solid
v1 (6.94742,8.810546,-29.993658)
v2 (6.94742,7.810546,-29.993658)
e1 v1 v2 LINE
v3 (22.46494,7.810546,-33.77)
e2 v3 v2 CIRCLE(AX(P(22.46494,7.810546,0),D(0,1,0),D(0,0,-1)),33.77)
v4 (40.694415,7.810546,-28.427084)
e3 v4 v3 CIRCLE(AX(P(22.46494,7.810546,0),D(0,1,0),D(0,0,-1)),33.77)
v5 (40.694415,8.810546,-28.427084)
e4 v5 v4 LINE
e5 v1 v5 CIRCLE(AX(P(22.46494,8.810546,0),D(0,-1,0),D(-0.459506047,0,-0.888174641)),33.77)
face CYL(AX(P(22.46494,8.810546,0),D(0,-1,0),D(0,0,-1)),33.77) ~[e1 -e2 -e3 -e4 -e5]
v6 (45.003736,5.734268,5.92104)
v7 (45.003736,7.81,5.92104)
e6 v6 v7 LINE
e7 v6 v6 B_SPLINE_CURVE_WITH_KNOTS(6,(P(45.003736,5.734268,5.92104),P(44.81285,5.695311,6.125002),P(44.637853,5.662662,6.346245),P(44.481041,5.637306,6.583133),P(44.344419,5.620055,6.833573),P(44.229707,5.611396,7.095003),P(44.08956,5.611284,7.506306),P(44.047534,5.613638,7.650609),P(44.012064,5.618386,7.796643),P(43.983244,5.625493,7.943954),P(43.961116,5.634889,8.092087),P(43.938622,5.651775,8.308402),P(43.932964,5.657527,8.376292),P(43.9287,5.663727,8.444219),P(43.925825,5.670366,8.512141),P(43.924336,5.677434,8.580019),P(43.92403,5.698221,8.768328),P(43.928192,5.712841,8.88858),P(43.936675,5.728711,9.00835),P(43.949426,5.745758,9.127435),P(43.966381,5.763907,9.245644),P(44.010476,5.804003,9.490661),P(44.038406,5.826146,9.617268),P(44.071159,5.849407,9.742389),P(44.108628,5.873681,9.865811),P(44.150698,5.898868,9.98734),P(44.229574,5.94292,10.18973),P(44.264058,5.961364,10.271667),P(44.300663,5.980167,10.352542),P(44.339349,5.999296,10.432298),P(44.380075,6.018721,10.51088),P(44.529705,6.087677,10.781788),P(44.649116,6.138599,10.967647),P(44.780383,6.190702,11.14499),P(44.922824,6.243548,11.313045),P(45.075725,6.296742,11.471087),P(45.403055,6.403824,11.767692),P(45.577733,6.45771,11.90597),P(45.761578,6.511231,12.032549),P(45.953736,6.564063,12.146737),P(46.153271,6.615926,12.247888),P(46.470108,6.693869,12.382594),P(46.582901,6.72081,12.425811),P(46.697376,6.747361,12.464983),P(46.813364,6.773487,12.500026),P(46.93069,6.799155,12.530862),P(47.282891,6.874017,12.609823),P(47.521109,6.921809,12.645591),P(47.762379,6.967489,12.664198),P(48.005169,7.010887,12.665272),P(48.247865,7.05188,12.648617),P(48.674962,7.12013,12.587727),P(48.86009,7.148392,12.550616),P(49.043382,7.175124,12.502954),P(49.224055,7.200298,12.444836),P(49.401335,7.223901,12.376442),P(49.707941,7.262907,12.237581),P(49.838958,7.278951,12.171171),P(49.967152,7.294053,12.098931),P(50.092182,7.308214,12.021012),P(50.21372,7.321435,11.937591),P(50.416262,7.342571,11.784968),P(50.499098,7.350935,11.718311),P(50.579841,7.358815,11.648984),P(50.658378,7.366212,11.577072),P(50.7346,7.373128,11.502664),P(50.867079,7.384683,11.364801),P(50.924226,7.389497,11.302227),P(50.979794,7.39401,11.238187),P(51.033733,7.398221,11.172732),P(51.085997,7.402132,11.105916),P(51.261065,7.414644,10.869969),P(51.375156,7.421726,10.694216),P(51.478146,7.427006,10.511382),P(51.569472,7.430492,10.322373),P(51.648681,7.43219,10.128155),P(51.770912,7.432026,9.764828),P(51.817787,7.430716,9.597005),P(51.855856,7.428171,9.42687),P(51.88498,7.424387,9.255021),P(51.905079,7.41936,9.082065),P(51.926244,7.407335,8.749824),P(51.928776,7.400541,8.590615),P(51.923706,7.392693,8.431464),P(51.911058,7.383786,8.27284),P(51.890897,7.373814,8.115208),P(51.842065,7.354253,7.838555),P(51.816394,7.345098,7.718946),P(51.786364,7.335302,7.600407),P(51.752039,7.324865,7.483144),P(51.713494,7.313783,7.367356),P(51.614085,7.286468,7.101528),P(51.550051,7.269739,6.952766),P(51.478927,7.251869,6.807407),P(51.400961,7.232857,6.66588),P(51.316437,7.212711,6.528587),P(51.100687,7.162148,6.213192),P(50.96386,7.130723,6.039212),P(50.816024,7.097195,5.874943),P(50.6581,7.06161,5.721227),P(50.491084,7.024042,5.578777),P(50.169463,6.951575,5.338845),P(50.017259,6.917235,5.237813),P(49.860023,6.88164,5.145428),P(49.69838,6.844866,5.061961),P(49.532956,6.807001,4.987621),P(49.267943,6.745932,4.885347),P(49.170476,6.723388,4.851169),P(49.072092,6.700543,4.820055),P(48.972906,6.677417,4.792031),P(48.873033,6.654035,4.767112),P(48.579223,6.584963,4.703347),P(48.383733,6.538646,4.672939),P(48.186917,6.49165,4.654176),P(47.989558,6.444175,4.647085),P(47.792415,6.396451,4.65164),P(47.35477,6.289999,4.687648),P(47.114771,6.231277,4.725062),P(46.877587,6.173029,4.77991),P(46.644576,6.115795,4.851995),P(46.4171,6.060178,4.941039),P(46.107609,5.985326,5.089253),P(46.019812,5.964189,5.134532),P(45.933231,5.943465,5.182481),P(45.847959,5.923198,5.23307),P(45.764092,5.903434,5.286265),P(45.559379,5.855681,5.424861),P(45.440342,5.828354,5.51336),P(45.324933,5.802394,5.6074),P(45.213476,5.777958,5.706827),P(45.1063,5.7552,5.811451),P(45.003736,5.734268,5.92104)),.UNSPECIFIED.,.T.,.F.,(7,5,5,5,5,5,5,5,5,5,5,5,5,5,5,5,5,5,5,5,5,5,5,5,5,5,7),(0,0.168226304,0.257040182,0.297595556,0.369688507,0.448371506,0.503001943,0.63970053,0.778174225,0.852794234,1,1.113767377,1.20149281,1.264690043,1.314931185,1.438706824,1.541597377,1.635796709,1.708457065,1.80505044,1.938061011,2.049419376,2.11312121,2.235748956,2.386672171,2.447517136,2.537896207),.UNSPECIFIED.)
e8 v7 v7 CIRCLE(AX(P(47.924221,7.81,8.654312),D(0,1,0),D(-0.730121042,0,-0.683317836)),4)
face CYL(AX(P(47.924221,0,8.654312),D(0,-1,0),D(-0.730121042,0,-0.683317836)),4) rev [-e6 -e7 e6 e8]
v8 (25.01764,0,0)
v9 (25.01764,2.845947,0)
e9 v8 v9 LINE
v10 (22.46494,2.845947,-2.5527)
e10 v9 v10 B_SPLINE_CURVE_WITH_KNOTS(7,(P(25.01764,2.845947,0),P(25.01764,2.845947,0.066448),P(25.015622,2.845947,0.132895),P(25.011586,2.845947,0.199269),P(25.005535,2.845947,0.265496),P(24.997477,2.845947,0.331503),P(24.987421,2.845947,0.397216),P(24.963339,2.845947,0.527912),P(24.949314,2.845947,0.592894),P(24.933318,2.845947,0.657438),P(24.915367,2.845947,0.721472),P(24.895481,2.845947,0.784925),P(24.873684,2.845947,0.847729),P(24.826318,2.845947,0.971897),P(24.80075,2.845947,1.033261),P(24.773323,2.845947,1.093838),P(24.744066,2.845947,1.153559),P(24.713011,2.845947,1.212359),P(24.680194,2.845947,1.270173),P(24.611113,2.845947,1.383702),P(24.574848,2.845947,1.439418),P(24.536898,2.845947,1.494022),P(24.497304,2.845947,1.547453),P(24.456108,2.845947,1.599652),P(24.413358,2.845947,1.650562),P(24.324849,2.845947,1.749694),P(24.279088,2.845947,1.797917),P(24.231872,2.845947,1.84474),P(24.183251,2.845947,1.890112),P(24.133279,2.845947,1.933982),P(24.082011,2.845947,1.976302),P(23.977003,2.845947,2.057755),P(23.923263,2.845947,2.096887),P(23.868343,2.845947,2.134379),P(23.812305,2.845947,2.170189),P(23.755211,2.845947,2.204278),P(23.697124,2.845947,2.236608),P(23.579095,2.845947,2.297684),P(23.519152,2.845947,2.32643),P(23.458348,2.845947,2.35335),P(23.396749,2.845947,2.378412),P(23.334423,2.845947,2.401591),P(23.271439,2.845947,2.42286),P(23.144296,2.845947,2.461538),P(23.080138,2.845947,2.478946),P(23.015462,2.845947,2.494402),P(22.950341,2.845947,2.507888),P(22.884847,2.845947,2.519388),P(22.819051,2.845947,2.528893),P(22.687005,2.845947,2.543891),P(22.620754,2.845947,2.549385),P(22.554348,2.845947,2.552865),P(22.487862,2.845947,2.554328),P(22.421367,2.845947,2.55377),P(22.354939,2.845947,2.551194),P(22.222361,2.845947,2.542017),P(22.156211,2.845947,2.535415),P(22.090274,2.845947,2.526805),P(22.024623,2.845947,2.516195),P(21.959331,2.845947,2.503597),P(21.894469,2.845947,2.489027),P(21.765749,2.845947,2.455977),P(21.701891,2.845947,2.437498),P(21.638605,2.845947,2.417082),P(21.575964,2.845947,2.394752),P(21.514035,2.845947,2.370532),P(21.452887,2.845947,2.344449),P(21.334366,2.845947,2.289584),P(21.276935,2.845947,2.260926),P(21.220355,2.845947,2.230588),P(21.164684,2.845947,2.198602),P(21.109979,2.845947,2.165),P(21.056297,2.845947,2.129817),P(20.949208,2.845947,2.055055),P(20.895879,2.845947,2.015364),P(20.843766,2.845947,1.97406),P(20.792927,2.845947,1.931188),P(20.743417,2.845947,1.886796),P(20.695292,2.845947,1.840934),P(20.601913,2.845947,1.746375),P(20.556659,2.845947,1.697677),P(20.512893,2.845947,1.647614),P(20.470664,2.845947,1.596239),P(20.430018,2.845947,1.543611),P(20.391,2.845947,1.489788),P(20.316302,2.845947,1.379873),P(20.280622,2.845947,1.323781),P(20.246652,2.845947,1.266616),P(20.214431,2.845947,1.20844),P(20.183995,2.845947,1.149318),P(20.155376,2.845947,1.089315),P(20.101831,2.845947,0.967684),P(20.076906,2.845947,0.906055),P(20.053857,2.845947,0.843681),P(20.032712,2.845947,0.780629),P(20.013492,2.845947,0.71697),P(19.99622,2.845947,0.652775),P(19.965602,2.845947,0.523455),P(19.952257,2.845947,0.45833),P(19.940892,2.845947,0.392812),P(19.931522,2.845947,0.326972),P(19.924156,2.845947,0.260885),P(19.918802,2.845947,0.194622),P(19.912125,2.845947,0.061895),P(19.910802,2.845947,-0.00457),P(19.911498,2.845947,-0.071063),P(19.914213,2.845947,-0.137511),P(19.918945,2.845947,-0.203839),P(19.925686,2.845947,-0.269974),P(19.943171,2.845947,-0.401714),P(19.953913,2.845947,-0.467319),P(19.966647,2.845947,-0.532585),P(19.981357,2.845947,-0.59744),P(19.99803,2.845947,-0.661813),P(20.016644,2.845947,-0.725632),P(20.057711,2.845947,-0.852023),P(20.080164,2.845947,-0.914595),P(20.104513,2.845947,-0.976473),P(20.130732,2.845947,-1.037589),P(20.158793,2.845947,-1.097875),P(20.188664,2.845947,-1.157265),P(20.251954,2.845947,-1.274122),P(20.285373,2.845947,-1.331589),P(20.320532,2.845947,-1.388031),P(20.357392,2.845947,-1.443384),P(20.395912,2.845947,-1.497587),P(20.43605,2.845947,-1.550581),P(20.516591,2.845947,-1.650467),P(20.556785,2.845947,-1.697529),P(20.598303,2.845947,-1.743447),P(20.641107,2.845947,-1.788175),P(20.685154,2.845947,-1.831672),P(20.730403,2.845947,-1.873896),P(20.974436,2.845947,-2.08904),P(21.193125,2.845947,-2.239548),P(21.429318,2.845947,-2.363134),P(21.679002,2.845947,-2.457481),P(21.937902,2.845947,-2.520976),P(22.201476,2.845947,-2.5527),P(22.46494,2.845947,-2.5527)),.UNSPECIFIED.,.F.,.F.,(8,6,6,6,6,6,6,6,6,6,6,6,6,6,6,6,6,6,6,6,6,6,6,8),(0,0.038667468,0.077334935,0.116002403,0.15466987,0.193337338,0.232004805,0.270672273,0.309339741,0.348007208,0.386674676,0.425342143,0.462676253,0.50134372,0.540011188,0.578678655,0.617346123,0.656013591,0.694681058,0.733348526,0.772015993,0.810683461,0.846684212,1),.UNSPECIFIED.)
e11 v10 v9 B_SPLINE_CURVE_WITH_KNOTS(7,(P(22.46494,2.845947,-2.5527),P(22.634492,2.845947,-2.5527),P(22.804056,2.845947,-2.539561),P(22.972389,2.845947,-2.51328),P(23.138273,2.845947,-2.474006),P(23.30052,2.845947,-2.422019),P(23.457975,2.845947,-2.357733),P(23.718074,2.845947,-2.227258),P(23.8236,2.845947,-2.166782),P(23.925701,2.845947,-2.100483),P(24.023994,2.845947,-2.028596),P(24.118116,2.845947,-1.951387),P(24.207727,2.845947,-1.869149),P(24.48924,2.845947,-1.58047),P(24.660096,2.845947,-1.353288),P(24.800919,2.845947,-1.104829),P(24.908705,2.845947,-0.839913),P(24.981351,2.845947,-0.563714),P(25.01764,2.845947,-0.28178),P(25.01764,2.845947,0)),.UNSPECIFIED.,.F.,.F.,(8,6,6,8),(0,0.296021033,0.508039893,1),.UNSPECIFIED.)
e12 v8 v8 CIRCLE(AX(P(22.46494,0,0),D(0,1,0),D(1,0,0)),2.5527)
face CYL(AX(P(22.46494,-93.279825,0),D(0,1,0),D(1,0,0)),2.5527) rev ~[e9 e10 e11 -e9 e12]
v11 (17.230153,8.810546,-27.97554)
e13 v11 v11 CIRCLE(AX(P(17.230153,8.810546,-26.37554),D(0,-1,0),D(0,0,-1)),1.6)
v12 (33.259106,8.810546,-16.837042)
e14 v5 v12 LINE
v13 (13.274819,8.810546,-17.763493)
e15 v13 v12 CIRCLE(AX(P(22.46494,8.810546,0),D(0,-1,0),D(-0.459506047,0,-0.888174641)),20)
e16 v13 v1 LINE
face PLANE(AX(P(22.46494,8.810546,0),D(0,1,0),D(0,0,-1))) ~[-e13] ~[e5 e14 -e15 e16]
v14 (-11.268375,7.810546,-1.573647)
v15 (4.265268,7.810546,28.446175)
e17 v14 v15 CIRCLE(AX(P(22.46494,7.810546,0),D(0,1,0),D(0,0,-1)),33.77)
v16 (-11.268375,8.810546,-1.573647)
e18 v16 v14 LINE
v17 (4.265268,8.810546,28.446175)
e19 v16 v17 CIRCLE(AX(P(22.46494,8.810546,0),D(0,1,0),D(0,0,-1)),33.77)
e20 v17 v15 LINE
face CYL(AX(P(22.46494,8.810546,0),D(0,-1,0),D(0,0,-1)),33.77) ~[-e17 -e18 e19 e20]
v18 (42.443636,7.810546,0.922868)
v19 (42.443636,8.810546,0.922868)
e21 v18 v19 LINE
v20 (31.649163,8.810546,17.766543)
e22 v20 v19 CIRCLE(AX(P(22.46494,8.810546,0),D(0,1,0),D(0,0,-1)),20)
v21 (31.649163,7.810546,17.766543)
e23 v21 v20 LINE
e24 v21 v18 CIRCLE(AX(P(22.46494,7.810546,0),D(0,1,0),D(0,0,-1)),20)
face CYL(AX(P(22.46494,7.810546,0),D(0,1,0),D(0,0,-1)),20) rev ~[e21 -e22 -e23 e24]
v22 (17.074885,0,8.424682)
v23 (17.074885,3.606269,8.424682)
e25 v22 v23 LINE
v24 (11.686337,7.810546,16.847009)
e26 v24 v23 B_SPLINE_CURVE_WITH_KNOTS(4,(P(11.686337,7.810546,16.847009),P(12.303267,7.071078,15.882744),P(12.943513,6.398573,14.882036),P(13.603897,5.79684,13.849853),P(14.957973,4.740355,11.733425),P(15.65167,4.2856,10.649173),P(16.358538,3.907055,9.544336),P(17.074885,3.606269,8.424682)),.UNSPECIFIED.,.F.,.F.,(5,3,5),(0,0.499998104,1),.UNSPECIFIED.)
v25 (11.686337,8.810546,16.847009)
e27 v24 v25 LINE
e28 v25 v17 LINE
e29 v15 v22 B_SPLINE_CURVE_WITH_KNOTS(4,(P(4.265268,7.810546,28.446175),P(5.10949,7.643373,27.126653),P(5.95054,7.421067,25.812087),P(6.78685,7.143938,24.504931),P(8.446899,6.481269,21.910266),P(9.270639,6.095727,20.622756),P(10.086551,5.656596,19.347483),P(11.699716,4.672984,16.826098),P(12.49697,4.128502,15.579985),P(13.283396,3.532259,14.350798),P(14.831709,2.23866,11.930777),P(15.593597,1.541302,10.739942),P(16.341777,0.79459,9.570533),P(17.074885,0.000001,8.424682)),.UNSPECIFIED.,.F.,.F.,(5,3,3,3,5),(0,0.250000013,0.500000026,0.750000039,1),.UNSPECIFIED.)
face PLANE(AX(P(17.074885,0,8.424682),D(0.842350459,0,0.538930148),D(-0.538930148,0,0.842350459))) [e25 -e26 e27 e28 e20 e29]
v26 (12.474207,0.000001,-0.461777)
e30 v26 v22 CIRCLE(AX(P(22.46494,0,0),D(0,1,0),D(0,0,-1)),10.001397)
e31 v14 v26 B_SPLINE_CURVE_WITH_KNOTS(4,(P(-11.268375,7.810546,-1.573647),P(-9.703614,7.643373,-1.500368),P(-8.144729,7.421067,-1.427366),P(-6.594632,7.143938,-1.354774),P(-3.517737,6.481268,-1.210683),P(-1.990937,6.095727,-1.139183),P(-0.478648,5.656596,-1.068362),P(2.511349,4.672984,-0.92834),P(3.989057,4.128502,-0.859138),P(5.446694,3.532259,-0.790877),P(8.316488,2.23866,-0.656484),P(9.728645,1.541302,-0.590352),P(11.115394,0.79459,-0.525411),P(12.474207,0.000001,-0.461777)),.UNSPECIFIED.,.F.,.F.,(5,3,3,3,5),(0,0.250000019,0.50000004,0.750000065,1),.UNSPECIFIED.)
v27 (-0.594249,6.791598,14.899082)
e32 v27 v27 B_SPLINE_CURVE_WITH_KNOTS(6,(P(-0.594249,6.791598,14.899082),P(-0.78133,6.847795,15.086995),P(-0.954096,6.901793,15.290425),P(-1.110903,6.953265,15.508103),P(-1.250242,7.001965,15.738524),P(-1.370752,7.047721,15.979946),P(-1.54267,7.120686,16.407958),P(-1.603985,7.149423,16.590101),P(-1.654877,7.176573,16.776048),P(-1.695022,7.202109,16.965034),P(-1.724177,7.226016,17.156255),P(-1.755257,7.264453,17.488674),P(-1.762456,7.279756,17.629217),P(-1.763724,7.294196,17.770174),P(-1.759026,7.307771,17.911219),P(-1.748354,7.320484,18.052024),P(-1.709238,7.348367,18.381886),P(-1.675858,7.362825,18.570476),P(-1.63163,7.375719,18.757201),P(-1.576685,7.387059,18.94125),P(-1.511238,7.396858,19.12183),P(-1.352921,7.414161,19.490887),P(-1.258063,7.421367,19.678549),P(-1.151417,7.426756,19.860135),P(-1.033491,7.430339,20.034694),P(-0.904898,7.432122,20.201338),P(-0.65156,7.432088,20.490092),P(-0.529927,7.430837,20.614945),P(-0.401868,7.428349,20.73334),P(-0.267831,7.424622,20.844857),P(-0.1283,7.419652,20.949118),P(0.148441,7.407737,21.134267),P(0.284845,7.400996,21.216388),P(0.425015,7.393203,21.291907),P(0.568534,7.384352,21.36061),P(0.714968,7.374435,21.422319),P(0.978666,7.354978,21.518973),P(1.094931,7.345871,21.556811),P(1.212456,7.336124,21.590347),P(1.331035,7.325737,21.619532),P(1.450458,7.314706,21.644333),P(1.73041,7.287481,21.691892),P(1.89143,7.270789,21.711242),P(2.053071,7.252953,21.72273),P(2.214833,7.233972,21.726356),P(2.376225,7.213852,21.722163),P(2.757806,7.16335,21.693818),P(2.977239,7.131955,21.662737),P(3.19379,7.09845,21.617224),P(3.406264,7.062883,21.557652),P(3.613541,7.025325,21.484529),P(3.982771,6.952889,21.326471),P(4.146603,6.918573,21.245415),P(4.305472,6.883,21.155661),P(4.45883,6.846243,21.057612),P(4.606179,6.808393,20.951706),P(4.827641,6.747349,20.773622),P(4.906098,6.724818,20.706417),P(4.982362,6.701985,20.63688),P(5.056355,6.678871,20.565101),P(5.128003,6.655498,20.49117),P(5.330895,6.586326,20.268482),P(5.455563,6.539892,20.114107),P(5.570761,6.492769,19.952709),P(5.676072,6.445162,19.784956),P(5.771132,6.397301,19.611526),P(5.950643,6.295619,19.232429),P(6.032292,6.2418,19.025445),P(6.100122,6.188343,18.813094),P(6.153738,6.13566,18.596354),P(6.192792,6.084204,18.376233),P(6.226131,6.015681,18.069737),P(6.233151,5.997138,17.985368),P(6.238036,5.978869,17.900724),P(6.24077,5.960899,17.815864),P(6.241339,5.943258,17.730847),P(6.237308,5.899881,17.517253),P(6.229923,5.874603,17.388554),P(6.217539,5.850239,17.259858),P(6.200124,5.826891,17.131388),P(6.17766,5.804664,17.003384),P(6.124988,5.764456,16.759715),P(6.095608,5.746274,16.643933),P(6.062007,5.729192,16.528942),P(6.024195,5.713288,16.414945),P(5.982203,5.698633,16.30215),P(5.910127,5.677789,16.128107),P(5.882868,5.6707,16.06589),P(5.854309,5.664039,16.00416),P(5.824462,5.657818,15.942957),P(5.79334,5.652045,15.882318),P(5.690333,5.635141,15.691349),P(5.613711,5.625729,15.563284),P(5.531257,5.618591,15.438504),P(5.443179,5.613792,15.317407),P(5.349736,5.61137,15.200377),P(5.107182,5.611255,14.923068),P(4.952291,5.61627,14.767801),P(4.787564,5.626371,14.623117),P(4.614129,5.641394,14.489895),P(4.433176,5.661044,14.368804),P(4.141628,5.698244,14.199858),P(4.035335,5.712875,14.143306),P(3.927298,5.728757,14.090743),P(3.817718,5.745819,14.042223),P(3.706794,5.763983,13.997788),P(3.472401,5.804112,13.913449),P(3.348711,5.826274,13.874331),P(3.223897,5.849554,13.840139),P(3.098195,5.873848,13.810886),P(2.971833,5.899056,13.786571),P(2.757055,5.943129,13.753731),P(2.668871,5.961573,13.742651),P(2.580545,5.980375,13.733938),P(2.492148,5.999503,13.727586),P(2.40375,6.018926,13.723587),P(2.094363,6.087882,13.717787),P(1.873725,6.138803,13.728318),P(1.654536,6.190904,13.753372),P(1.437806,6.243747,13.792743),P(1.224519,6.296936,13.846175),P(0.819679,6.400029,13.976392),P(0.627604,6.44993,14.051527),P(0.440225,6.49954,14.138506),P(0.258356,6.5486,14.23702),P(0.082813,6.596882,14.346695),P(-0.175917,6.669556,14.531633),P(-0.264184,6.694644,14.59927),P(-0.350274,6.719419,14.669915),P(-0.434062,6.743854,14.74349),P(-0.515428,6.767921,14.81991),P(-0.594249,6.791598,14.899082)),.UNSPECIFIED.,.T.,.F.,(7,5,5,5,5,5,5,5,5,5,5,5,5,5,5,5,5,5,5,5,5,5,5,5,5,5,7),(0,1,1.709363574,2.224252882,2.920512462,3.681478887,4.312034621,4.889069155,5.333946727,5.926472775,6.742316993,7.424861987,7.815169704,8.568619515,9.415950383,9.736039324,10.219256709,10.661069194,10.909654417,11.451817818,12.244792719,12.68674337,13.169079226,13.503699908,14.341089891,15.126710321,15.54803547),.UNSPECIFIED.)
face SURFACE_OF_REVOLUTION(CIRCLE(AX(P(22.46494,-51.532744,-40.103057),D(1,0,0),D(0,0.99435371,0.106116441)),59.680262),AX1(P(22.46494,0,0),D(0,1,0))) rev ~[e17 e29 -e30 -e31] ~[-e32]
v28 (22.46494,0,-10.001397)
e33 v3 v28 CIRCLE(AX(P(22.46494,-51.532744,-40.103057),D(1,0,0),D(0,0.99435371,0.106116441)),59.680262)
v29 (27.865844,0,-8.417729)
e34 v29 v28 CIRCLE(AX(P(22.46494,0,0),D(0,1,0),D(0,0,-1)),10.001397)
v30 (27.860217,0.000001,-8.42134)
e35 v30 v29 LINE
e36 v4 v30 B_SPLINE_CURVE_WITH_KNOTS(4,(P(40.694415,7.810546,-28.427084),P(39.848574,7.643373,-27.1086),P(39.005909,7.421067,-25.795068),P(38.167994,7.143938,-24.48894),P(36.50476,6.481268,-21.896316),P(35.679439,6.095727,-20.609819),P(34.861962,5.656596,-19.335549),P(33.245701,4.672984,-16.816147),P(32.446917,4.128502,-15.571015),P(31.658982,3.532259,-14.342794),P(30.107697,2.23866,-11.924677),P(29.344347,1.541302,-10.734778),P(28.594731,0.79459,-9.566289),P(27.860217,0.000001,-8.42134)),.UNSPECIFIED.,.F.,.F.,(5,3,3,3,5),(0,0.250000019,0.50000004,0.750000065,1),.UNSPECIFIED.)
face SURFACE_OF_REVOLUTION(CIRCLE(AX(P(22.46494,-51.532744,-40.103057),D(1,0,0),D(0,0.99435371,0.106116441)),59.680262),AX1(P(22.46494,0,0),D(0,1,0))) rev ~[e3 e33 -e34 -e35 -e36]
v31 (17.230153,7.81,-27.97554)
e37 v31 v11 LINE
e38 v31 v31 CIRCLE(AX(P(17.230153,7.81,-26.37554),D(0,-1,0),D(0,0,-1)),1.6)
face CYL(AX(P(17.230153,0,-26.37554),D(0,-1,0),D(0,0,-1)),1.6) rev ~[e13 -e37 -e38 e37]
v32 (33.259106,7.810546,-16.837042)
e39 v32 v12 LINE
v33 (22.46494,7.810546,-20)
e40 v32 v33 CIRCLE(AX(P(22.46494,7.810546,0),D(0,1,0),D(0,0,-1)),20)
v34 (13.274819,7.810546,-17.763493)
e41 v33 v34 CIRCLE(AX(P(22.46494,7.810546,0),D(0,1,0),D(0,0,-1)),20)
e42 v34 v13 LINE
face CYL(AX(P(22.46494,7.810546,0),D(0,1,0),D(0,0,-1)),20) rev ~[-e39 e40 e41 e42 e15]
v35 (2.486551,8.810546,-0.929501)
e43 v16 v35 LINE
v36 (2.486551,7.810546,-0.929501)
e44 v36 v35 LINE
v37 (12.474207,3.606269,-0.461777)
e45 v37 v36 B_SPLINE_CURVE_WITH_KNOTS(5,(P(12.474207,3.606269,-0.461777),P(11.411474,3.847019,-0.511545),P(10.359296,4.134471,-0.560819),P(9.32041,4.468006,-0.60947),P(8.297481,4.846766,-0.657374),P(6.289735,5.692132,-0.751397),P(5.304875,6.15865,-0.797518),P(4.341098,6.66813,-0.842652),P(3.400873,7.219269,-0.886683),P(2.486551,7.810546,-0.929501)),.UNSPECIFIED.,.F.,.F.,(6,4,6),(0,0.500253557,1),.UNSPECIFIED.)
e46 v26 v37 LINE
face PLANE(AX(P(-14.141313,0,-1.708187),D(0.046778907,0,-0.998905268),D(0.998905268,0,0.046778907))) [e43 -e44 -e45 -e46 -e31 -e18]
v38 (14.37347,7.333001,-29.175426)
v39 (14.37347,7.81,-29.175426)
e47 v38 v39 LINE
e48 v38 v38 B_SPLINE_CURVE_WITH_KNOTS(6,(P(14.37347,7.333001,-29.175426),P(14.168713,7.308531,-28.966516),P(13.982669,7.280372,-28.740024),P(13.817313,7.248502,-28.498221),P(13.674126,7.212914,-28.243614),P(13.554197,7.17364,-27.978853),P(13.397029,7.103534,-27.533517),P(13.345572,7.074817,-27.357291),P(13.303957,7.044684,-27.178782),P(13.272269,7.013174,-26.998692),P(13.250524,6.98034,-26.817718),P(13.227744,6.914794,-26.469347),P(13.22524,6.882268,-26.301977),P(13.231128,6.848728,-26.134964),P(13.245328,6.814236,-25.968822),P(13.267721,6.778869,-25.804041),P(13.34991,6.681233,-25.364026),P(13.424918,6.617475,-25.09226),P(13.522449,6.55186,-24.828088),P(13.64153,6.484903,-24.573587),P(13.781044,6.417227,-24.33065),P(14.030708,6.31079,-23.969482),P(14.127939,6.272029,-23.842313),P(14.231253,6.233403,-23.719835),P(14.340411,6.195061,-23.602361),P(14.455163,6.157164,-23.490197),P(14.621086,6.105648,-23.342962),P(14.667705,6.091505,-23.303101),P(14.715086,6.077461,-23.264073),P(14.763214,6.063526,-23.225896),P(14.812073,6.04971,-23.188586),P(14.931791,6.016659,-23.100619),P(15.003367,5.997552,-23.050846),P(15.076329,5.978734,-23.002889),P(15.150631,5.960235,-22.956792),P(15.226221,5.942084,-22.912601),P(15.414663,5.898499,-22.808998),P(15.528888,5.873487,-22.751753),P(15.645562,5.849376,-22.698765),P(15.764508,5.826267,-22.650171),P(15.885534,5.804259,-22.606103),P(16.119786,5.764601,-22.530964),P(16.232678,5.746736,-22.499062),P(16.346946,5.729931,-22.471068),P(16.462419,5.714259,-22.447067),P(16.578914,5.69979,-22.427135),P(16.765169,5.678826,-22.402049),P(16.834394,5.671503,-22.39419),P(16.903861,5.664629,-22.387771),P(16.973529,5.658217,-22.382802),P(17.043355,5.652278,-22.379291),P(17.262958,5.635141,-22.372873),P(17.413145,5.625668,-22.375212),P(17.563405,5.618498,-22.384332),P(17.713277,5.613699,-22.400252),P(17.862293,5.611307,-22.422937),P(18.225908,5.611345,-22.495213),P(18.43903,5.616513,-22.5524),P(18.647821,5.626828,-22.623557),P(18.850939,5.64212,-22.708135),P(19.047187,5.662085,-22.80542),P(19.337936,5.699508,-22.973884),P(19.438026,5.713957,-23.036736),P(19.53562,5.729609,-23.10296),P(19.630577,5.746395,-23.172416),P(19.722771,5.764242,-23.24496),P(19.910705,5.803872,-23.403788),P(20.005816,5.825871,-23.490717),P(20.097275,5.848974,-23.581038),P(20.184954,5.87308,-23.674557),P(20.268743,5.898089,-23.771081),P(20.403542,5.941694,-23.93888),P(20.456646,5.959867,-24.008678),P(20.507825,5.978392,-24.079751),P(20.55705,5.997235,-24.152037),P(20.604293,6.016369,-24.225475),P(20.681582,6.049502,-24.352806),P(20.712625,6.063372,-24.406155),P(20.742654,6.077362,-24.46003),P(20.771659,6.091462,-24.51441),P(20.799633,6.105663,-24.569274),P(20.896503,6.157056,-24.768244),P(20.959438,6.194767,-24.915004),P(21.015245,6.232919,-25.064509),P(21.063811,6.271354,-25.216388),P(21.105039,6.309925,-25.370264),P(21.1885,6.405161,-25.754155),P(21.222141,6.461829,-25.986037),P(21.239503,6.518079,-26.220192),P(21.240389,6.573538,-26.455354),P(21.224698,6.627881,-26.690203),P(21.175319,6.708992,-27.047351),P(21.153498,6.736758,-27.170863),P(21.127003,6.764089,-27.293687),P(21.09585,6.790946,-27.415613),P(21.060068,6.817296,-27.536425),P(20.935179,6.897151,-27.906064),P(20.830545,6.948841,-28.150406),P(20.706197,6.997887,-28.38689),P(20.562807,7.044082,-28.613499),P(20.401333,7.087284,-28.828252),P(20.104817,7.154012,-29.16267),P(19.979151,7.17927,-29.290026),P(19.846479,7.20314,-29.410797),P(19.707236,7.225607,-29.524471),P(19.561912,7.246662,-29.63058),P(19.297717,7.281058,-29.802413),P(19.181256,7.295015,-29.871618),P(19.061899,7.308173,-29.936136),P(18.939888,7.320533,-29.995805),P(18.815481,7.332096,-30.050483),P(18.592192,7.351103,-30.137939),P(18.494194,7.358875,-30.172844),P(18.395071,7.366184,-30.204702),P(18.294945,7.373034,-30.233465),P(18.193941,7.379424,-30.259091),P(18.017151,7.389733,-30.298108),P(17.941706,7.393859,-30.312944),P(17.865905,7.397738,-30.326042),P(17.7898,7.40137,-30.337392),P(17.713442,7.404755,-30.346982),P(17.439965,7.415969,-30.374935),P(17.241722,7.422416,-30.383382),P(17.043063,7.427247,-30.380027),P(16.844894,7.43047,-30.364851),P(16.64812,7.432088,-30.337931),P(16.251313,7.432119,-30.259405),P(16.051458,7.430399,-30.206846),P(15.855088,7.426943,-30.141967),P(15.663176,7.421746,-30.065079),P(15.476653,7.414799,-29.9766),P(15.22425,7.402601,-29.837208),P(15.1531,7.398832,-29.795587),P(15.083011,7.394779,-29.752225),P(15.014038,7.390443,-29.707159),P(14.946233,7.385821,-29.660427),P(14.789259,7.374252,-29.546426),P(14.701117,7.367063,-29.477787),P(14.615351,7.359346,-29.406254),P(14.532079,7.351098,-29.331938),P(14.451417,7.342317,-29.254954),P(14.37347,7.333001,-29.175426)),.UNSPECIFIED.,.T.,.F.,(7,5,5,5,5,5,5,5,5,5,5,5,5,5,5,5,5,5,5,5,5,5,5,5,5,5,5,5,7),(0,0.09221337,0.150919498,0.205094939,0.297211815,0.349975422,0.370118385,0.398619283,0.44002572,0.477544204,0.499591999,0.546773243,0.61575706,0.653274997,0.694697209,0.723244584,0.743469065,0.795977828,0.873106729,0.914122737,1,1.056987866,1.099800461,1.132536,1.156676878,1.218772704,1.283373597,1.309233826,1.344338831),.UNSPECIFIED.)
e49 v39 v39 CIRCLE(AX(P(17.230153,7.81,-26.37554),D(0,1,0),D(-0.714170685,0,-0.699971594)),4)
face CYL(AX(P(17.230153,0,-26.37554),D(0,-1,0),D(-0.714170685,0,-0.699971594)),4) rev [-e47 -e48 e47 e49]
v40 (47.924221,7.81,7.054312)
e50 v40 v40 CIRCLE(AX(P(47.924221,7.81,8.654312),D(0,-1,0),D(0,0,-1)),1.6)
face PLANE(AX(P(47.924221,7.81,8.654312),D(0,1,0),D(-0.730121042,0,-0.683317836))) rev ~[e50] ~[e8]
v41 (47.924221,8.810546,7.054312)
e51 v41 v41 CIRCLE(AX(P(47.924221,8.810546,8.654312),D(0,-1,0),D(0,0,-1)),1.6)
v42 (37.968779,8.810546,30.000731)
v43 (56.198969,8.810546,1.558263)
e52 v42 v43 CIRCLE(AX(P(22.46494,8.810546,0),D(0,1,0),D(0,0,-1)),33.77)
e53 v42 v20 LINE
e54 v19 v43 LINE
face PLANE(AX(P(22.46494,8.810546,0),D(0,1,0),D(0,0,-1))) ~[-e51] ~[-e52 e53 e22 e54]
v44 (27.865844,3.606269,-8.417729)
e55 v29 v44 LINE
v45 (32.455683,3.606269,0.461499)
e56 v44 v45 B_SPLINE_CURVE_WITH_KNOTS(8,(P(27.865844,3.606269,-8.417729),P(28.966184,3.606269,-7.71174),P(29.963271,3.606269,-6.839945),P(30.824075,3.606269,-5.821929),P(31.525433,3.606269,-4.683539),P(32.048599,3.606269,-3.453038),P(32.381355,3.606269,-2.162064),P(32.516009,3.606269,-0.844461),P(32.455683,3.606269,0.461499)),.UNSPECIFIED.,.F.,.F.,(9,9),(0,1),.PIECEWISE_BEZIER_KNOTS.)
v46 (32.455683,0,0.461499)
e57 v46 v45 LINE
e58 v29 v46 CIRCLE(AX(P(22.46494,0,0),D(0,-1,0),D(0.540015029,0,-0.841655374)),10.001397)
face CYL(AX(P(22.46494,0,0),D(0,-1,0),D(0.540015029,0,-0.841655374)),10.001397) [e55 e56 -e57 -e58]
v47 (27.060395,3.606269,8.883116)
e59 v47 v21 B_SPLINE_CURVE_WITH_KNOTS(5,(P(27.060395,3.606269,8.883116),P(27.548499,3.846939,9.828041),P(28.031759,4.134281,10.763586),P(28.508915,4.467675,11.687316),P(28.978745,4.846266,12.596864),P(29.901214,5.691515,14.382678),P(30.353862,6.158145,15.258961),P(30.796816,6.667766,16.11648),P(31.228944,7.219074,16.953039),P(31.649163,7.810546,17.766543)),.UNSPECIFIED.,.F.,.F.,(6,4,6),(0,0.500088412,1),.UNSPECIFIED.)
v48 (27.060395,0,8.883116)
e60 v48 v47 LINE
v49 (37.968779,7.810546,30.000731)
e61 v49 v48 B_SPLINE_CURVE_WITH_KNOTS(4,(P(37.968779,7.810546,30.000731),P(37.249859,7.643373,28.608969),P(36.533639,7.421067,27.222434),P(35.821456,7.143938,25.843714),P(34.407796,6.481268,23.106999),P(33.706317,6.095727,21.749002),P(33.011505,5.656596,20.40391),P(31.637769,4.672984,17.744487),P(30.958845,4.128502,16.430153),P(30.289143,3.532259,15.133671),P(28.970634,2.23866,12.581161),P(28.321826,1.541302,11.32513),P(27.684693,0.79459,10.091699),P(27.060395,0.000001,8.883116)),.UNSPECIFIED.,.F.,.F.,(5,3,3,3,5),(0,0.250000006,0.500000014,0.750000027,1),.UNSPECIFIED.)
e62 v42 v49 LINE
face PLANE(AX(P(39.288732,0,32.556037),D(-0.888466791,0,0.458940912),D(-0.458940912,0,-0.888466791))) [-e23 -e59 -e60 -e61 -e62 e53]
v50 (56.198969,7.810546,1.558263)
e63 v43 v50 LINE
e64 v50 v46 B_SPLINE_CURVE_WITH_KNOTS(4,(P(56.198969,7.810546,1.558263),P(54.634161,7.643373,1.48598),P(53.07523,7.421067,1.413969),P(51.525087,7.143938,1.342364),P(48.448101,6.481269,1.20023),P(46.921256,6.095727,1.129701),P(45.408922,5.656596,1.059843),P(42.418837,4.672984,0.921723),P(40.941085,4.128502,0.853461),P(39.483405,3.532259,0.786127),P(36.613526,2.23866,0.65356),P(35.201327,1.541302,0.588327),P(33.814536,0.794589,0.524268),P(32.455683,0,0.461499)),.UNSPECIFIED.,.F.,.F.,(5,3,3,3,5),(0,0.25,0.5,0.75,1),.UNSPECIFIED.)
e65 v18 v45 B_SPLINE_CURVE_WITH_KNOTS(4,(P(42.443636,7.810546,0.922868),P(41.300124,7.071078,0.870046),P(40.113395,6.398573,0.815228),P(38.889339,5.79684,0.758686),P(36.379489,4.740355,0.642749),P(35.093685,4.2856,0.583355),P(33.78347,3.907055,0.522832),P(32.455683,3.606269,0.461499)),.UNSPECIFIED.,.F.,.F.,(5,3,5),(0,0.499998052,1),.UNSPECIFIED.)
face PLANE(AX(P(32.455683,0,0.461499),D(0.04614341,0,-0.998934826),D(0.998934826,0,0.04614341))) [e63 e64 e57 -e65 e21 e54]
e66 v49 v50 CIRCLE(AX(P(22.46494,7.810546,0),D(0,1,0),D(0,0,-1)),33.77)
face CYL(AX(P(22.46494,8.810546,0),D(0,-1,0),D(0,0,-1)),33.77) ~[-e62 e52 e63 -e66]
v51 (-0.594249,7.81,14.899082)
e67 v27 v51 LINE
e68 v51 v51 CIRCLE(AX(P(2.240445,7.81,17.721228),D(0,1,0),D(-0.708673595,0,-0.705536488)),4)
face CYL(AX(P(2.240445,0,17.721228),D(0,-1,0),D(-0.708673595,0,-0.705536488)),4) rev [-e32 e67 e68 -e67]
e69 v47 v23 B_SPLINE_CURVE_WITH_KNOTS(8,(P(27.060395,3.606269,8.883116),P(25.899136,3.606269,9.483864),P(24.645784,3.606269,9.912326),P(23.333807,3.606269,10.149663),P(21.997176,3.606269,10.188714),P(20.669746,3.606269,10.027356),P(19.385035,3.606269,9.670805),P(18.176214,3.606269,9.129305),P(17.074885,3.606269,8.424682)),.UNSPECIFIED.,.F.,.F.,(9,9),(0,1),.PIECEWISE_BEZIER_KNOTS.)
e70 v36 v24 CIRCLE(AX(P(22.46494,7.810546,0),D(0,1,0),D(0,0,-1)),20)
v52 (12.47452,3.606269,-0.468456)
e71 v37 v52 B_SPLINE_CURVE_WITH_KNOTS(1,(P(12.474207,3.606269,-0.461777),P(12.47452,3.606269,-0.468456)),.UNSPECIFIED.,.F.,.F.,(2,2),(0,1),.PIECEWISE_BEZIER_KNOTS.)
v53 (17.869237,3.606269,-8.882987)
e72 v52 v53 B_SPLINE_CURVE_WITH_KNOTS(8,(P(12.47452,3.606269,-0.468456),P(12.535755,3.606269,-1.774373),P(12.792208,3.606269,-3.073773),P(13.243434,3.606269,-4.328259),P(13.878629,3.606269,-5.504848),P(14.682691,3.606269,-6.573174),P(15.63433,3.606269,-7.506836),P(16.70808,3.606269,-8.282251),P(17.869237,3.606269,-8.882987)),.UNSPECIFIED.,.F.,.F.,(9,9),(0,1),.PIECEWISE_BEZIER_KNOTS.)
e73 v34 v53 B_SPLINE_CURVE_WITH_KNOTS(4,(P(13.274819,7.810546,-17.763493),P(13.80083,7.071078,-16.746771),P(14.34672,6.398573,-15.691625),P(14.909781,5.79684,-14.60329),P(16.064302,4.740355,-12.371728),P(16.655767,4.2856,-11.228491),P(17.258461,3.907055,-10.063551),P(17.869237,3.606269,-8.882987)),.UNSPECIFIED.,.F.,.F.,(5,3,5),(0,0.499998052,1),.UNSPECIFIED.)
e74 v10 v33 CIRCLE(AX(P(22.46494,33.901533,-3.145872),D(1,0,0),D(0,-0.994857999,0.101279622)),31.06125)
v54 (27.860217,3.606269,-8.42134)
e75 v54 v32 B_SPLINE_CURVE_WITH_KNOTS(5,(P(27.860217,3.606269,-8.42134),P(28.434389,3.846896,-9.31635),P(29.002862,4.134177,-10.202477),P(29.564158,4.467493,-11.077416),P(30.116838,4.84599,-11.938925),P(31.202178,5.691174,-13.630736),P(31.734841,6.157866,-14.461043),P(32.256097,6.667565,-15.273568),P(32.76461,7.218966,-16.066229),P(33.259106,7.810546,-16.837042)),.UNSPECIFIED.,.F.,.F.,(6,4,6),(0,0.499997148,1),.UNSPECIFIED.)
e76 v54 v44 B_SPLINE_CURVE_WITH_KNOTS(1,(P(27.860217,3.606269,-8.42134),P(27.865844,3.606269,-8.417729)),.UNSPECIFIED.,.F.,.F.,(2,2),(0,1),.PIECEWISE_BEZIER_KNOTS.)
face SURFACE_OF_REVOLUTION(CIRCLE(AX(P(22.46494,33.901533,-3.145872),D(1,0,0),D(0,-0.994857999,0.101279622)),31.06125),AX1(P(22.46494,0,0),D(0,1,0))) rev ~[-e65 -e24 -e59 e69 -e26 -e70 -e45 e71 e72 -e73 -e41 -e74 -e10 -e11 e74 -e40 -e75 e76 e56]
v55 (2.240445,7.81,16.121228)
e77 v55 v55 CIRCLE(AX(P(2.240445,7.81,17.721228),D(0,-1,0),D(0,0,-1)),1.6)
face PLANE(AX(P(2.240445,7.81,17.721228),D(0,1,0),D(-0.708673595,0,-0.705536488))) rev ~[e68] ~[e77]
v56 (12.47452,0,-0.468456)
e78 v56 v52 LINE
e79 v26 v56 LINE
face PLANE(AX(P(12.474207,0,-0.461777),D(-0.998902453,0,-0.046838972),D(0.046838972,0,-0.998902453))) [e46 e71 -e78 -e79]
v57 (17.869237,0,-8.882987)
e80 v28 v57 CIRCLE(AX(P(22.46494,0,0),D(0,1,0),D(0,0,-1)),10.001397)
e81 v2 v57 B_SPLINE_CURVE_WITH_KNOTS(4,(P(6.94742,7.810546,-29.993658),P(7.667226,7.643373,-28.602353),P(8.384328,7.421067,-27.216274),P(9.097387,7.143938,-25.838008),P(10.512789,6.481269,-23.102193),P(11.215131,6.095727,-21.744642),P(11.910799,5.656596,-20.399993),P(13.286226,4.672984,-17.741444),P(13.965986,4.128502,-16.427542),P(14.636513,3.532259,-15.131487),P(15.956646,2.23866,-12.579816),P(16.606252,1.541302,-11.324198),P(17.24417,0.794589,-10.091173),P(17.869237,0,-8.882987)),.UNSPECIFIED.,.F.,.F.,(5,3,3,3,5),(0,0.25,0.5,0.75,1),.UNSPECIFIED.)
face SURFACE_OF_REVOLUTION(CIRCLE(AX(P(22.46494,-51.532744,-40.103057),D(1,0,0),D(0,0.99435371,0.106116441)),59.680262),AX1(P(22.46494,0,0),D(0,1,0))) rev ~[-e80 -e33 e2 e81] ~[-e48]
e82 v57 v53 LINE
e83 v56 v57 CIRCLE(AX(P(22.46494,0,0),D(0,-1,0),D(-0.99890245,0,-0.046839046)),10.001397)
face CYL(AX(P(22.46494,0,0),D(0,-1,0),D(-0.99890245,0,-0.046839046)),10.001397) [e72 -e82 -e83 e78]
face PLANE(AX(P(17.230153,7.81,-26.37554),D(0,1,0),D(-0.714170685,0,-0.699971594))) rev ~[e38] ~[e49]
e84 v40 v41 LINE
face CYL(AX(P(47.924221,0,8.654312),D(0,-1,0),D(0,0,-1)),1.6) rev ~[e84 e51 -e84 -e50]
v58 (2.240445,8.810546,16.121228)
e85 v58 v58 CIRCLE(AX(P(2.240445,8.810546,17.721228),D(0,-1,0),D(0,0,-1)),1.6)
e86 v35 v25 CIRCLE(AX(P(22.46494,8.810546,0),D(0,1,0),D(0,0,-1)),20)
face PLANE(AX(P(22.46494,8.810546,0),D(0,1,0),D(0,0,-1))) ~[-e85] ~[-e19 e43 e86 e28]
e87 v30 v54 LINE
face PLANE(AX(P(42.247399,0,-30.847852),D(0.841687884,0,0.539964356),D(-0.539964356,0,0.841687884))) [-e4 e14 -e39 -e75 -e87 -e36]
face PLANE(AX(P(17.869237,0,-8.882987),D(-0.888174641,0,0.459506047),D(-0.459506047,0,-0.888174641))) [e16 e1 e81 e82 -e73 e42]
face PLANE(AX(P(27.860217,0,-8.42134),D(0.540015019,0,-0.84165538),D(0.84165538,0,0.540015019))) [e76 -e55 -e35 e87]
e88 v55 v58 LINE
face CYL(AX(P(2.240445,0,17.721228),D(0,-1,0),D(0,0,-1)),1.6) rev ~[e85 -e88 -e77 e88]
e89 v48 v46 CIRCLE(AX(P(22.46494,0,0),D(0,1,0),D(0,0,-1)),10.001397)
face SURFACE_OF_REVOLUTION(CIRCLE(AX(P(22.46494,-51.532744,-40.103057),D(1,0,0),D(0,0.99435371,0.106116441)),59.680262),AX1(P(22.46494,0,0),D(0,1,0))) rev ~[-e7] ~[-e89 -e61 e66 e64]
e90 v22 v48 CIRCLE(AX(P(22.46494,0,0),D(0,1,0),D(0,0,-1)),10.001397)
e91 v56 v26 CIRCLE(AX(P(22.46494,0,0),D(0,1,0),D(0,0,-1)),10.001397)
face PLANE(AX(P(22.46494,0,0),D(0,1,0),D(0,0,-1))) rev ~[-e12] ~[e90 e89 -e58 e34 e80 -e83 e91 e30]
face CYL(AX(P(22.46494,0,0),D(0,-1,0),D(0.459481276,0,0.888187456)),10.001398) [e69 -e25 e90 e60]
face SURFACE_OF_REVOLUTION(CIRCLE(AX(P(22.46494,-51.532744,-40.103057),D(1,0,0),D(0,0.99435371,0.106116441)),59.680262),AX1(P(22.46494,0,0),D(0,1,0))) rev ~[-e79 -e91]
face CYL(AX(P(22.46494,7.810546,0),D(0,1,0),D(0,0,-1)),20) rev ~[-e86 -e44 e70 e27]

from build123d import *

# Parameters (mm, degrees)
SKETCH6_R               = 1.6
CUT_EXTRUDE3_DEPTH      = 25.4
F_1_4_20_TAPPED_HOLE2_D = 5.1054
SKETCH20_R              = 4
CUT_EXTRUDE4_DEPTH      = 7.81


with BuildPart() as part:
    # Sketch1 → Revolve3 (revolve)
    with BuildSketch(Plane.XY, mode=Mode.PRIVATE) as revolve3_sk:
        with BuildLine():
            Line((12.463542917, 0), (22.464939564, 0))
            Line((22.464939564, 0), (22.464939564, 3))
            ThreePointArc((22.464939564, 3), (12.055156212, 3.701585346), (2.464939564, 7.810545811))
            Line((2.464939564, 7.810545811), (2.464939564, 8.810545811))
            Line((2.464939564, 8.810545811), (-11.305060436, 8.810545811))
            Line((-11.305060436, 8.810545811), (-11.305060436, 7.810545811))
            ThreePointArc((-11.305060436, 7.810545811), (0.993128192, 5.164789847), (12.463542917, 0))
        make_face()
    revolve(revolve3_sk.sketch.rotate(Axis((22.464939564, 0, 0), (0, 1, 0)), 270), axis=Axis((22.464939564, 0, 0), (0, 1, 0)))

    # Sketch6 → Cut-Extrude3 (cut)
    with BuildSketch(Plane(origin=(0, 0, 0), x_dir=(-1, 0, 0), z_dir=(0, -1, 0))):
        with Locations(Location((-2.240445209, -17.721228176, 0), (0, 0, 90))):
            Circle(SKETCH6_R)
        with Locations(Location((-47.924220529, -8.654311802, 0), (0, 0, 90))):
            Circle(SKETCH6_R)
        with Locations(Location((-17.230152955, 26.375539978, 0), (0, 0, 90))):
            Circle(SKETCH6_R)
        with BuildLine():
            Line((-17.074884782, -8.424681994), (-2.715259327, -30.868846833))
            ThreePointArc((-2.715259327, -30.868846833), (-20.776195295, -36.607153906), (-39.28873242, -32.556037354))
            Line((-39.28873242, -32.556037354), (-27.060394573, -8.883116036))
            ThreePointArc((-27.060394573, -8.883116036), (-22.006259237, -9.990874316), (-17.074884782, -8.424681994))
        make_face()
        with BuildLine():
            Line((-32.455682979, -0.461498547), (-58.753919723, -1.676282828))
            Line((-58.753919723, -1.676282828), (-59.072986342, -1.669301437))
            ThreePointArc((-59.072986342, -1.669301437), (-55.012037933, 16.841082029), (-42.247399134, 30.847851619))
            Line((-42.247399134, 30.847851619), (-27.860216814, 8.421339739))
            Line((-27.860216814, 8.421339739), (-27.865844062, 8.417729237))
            ThreePointArc((-27.865844062, 8.417729237), (-31.349526098, 4.592608955), (-32.455682979, -0.461498547))
        make_face()
        with BuildLine():
            Line((-17.869237322, 8.882986874), (-5.772152998, 32.265320109))
            Line((-5.772152998, 32.265320109), (-5.606573626, 32.538149211))
            ThreePointArc((-5.606573626, 32.538149211), (8.393414485, 19.766072993), (14.141313375, 1.708186727))
            Line((14.141313375, 1.708186727), (-12.474206792, 0.46177729))
            Line((-12.474206792, 0.46177729), (-12.474519954, 0.46845588))
            ThreePointArc((-12.474519954, 0.46845588), (-14.045330272, 5.397973163), (-17.869237322, 8.882986874))
        make_face()
    extrude(amount=-CUT_EXTRUDE3_DEPTH, mode=Mode.SUBTRACT)

    # 1/4-20 Tapped Hole2 (through all)
    with Locations(Plane(origin=(0, 0, 0), x_dir=(-1, 0, 0), z_dir=(0, -1, 0))):
        with Locations((-22.464939564, 0)):
            Hole(F_1_4_20_TAPPED_HOLE2_D / 2)

    # Sketch20 → Cut-Extrude4 (cut)
    with BuildSketch(Plane(origin=(0, 0, 0), x_dir=(1, 0, 0), z_dir=(0, 1, 0))):
        with Locations(Location((2.240445209, -17.721228176, 0), (0, 0, 135.127097567))):
            Circle(SKETCH20_R)
        with Locations(Location((17.230152955, 26.375539978, 0), (0, 0, 135.575274994))):
            Circle(SKETCH20_R)
        with Locations(Location((47.924220529, -8.654311802, 0), (0, 0, 136.896542352))):
            Circle(SKETCH20_R)
    extrude(amount=CUT_EXTRUDE4_DEPTH, mode=Mode.SUBTRACT)


solid = part.part
